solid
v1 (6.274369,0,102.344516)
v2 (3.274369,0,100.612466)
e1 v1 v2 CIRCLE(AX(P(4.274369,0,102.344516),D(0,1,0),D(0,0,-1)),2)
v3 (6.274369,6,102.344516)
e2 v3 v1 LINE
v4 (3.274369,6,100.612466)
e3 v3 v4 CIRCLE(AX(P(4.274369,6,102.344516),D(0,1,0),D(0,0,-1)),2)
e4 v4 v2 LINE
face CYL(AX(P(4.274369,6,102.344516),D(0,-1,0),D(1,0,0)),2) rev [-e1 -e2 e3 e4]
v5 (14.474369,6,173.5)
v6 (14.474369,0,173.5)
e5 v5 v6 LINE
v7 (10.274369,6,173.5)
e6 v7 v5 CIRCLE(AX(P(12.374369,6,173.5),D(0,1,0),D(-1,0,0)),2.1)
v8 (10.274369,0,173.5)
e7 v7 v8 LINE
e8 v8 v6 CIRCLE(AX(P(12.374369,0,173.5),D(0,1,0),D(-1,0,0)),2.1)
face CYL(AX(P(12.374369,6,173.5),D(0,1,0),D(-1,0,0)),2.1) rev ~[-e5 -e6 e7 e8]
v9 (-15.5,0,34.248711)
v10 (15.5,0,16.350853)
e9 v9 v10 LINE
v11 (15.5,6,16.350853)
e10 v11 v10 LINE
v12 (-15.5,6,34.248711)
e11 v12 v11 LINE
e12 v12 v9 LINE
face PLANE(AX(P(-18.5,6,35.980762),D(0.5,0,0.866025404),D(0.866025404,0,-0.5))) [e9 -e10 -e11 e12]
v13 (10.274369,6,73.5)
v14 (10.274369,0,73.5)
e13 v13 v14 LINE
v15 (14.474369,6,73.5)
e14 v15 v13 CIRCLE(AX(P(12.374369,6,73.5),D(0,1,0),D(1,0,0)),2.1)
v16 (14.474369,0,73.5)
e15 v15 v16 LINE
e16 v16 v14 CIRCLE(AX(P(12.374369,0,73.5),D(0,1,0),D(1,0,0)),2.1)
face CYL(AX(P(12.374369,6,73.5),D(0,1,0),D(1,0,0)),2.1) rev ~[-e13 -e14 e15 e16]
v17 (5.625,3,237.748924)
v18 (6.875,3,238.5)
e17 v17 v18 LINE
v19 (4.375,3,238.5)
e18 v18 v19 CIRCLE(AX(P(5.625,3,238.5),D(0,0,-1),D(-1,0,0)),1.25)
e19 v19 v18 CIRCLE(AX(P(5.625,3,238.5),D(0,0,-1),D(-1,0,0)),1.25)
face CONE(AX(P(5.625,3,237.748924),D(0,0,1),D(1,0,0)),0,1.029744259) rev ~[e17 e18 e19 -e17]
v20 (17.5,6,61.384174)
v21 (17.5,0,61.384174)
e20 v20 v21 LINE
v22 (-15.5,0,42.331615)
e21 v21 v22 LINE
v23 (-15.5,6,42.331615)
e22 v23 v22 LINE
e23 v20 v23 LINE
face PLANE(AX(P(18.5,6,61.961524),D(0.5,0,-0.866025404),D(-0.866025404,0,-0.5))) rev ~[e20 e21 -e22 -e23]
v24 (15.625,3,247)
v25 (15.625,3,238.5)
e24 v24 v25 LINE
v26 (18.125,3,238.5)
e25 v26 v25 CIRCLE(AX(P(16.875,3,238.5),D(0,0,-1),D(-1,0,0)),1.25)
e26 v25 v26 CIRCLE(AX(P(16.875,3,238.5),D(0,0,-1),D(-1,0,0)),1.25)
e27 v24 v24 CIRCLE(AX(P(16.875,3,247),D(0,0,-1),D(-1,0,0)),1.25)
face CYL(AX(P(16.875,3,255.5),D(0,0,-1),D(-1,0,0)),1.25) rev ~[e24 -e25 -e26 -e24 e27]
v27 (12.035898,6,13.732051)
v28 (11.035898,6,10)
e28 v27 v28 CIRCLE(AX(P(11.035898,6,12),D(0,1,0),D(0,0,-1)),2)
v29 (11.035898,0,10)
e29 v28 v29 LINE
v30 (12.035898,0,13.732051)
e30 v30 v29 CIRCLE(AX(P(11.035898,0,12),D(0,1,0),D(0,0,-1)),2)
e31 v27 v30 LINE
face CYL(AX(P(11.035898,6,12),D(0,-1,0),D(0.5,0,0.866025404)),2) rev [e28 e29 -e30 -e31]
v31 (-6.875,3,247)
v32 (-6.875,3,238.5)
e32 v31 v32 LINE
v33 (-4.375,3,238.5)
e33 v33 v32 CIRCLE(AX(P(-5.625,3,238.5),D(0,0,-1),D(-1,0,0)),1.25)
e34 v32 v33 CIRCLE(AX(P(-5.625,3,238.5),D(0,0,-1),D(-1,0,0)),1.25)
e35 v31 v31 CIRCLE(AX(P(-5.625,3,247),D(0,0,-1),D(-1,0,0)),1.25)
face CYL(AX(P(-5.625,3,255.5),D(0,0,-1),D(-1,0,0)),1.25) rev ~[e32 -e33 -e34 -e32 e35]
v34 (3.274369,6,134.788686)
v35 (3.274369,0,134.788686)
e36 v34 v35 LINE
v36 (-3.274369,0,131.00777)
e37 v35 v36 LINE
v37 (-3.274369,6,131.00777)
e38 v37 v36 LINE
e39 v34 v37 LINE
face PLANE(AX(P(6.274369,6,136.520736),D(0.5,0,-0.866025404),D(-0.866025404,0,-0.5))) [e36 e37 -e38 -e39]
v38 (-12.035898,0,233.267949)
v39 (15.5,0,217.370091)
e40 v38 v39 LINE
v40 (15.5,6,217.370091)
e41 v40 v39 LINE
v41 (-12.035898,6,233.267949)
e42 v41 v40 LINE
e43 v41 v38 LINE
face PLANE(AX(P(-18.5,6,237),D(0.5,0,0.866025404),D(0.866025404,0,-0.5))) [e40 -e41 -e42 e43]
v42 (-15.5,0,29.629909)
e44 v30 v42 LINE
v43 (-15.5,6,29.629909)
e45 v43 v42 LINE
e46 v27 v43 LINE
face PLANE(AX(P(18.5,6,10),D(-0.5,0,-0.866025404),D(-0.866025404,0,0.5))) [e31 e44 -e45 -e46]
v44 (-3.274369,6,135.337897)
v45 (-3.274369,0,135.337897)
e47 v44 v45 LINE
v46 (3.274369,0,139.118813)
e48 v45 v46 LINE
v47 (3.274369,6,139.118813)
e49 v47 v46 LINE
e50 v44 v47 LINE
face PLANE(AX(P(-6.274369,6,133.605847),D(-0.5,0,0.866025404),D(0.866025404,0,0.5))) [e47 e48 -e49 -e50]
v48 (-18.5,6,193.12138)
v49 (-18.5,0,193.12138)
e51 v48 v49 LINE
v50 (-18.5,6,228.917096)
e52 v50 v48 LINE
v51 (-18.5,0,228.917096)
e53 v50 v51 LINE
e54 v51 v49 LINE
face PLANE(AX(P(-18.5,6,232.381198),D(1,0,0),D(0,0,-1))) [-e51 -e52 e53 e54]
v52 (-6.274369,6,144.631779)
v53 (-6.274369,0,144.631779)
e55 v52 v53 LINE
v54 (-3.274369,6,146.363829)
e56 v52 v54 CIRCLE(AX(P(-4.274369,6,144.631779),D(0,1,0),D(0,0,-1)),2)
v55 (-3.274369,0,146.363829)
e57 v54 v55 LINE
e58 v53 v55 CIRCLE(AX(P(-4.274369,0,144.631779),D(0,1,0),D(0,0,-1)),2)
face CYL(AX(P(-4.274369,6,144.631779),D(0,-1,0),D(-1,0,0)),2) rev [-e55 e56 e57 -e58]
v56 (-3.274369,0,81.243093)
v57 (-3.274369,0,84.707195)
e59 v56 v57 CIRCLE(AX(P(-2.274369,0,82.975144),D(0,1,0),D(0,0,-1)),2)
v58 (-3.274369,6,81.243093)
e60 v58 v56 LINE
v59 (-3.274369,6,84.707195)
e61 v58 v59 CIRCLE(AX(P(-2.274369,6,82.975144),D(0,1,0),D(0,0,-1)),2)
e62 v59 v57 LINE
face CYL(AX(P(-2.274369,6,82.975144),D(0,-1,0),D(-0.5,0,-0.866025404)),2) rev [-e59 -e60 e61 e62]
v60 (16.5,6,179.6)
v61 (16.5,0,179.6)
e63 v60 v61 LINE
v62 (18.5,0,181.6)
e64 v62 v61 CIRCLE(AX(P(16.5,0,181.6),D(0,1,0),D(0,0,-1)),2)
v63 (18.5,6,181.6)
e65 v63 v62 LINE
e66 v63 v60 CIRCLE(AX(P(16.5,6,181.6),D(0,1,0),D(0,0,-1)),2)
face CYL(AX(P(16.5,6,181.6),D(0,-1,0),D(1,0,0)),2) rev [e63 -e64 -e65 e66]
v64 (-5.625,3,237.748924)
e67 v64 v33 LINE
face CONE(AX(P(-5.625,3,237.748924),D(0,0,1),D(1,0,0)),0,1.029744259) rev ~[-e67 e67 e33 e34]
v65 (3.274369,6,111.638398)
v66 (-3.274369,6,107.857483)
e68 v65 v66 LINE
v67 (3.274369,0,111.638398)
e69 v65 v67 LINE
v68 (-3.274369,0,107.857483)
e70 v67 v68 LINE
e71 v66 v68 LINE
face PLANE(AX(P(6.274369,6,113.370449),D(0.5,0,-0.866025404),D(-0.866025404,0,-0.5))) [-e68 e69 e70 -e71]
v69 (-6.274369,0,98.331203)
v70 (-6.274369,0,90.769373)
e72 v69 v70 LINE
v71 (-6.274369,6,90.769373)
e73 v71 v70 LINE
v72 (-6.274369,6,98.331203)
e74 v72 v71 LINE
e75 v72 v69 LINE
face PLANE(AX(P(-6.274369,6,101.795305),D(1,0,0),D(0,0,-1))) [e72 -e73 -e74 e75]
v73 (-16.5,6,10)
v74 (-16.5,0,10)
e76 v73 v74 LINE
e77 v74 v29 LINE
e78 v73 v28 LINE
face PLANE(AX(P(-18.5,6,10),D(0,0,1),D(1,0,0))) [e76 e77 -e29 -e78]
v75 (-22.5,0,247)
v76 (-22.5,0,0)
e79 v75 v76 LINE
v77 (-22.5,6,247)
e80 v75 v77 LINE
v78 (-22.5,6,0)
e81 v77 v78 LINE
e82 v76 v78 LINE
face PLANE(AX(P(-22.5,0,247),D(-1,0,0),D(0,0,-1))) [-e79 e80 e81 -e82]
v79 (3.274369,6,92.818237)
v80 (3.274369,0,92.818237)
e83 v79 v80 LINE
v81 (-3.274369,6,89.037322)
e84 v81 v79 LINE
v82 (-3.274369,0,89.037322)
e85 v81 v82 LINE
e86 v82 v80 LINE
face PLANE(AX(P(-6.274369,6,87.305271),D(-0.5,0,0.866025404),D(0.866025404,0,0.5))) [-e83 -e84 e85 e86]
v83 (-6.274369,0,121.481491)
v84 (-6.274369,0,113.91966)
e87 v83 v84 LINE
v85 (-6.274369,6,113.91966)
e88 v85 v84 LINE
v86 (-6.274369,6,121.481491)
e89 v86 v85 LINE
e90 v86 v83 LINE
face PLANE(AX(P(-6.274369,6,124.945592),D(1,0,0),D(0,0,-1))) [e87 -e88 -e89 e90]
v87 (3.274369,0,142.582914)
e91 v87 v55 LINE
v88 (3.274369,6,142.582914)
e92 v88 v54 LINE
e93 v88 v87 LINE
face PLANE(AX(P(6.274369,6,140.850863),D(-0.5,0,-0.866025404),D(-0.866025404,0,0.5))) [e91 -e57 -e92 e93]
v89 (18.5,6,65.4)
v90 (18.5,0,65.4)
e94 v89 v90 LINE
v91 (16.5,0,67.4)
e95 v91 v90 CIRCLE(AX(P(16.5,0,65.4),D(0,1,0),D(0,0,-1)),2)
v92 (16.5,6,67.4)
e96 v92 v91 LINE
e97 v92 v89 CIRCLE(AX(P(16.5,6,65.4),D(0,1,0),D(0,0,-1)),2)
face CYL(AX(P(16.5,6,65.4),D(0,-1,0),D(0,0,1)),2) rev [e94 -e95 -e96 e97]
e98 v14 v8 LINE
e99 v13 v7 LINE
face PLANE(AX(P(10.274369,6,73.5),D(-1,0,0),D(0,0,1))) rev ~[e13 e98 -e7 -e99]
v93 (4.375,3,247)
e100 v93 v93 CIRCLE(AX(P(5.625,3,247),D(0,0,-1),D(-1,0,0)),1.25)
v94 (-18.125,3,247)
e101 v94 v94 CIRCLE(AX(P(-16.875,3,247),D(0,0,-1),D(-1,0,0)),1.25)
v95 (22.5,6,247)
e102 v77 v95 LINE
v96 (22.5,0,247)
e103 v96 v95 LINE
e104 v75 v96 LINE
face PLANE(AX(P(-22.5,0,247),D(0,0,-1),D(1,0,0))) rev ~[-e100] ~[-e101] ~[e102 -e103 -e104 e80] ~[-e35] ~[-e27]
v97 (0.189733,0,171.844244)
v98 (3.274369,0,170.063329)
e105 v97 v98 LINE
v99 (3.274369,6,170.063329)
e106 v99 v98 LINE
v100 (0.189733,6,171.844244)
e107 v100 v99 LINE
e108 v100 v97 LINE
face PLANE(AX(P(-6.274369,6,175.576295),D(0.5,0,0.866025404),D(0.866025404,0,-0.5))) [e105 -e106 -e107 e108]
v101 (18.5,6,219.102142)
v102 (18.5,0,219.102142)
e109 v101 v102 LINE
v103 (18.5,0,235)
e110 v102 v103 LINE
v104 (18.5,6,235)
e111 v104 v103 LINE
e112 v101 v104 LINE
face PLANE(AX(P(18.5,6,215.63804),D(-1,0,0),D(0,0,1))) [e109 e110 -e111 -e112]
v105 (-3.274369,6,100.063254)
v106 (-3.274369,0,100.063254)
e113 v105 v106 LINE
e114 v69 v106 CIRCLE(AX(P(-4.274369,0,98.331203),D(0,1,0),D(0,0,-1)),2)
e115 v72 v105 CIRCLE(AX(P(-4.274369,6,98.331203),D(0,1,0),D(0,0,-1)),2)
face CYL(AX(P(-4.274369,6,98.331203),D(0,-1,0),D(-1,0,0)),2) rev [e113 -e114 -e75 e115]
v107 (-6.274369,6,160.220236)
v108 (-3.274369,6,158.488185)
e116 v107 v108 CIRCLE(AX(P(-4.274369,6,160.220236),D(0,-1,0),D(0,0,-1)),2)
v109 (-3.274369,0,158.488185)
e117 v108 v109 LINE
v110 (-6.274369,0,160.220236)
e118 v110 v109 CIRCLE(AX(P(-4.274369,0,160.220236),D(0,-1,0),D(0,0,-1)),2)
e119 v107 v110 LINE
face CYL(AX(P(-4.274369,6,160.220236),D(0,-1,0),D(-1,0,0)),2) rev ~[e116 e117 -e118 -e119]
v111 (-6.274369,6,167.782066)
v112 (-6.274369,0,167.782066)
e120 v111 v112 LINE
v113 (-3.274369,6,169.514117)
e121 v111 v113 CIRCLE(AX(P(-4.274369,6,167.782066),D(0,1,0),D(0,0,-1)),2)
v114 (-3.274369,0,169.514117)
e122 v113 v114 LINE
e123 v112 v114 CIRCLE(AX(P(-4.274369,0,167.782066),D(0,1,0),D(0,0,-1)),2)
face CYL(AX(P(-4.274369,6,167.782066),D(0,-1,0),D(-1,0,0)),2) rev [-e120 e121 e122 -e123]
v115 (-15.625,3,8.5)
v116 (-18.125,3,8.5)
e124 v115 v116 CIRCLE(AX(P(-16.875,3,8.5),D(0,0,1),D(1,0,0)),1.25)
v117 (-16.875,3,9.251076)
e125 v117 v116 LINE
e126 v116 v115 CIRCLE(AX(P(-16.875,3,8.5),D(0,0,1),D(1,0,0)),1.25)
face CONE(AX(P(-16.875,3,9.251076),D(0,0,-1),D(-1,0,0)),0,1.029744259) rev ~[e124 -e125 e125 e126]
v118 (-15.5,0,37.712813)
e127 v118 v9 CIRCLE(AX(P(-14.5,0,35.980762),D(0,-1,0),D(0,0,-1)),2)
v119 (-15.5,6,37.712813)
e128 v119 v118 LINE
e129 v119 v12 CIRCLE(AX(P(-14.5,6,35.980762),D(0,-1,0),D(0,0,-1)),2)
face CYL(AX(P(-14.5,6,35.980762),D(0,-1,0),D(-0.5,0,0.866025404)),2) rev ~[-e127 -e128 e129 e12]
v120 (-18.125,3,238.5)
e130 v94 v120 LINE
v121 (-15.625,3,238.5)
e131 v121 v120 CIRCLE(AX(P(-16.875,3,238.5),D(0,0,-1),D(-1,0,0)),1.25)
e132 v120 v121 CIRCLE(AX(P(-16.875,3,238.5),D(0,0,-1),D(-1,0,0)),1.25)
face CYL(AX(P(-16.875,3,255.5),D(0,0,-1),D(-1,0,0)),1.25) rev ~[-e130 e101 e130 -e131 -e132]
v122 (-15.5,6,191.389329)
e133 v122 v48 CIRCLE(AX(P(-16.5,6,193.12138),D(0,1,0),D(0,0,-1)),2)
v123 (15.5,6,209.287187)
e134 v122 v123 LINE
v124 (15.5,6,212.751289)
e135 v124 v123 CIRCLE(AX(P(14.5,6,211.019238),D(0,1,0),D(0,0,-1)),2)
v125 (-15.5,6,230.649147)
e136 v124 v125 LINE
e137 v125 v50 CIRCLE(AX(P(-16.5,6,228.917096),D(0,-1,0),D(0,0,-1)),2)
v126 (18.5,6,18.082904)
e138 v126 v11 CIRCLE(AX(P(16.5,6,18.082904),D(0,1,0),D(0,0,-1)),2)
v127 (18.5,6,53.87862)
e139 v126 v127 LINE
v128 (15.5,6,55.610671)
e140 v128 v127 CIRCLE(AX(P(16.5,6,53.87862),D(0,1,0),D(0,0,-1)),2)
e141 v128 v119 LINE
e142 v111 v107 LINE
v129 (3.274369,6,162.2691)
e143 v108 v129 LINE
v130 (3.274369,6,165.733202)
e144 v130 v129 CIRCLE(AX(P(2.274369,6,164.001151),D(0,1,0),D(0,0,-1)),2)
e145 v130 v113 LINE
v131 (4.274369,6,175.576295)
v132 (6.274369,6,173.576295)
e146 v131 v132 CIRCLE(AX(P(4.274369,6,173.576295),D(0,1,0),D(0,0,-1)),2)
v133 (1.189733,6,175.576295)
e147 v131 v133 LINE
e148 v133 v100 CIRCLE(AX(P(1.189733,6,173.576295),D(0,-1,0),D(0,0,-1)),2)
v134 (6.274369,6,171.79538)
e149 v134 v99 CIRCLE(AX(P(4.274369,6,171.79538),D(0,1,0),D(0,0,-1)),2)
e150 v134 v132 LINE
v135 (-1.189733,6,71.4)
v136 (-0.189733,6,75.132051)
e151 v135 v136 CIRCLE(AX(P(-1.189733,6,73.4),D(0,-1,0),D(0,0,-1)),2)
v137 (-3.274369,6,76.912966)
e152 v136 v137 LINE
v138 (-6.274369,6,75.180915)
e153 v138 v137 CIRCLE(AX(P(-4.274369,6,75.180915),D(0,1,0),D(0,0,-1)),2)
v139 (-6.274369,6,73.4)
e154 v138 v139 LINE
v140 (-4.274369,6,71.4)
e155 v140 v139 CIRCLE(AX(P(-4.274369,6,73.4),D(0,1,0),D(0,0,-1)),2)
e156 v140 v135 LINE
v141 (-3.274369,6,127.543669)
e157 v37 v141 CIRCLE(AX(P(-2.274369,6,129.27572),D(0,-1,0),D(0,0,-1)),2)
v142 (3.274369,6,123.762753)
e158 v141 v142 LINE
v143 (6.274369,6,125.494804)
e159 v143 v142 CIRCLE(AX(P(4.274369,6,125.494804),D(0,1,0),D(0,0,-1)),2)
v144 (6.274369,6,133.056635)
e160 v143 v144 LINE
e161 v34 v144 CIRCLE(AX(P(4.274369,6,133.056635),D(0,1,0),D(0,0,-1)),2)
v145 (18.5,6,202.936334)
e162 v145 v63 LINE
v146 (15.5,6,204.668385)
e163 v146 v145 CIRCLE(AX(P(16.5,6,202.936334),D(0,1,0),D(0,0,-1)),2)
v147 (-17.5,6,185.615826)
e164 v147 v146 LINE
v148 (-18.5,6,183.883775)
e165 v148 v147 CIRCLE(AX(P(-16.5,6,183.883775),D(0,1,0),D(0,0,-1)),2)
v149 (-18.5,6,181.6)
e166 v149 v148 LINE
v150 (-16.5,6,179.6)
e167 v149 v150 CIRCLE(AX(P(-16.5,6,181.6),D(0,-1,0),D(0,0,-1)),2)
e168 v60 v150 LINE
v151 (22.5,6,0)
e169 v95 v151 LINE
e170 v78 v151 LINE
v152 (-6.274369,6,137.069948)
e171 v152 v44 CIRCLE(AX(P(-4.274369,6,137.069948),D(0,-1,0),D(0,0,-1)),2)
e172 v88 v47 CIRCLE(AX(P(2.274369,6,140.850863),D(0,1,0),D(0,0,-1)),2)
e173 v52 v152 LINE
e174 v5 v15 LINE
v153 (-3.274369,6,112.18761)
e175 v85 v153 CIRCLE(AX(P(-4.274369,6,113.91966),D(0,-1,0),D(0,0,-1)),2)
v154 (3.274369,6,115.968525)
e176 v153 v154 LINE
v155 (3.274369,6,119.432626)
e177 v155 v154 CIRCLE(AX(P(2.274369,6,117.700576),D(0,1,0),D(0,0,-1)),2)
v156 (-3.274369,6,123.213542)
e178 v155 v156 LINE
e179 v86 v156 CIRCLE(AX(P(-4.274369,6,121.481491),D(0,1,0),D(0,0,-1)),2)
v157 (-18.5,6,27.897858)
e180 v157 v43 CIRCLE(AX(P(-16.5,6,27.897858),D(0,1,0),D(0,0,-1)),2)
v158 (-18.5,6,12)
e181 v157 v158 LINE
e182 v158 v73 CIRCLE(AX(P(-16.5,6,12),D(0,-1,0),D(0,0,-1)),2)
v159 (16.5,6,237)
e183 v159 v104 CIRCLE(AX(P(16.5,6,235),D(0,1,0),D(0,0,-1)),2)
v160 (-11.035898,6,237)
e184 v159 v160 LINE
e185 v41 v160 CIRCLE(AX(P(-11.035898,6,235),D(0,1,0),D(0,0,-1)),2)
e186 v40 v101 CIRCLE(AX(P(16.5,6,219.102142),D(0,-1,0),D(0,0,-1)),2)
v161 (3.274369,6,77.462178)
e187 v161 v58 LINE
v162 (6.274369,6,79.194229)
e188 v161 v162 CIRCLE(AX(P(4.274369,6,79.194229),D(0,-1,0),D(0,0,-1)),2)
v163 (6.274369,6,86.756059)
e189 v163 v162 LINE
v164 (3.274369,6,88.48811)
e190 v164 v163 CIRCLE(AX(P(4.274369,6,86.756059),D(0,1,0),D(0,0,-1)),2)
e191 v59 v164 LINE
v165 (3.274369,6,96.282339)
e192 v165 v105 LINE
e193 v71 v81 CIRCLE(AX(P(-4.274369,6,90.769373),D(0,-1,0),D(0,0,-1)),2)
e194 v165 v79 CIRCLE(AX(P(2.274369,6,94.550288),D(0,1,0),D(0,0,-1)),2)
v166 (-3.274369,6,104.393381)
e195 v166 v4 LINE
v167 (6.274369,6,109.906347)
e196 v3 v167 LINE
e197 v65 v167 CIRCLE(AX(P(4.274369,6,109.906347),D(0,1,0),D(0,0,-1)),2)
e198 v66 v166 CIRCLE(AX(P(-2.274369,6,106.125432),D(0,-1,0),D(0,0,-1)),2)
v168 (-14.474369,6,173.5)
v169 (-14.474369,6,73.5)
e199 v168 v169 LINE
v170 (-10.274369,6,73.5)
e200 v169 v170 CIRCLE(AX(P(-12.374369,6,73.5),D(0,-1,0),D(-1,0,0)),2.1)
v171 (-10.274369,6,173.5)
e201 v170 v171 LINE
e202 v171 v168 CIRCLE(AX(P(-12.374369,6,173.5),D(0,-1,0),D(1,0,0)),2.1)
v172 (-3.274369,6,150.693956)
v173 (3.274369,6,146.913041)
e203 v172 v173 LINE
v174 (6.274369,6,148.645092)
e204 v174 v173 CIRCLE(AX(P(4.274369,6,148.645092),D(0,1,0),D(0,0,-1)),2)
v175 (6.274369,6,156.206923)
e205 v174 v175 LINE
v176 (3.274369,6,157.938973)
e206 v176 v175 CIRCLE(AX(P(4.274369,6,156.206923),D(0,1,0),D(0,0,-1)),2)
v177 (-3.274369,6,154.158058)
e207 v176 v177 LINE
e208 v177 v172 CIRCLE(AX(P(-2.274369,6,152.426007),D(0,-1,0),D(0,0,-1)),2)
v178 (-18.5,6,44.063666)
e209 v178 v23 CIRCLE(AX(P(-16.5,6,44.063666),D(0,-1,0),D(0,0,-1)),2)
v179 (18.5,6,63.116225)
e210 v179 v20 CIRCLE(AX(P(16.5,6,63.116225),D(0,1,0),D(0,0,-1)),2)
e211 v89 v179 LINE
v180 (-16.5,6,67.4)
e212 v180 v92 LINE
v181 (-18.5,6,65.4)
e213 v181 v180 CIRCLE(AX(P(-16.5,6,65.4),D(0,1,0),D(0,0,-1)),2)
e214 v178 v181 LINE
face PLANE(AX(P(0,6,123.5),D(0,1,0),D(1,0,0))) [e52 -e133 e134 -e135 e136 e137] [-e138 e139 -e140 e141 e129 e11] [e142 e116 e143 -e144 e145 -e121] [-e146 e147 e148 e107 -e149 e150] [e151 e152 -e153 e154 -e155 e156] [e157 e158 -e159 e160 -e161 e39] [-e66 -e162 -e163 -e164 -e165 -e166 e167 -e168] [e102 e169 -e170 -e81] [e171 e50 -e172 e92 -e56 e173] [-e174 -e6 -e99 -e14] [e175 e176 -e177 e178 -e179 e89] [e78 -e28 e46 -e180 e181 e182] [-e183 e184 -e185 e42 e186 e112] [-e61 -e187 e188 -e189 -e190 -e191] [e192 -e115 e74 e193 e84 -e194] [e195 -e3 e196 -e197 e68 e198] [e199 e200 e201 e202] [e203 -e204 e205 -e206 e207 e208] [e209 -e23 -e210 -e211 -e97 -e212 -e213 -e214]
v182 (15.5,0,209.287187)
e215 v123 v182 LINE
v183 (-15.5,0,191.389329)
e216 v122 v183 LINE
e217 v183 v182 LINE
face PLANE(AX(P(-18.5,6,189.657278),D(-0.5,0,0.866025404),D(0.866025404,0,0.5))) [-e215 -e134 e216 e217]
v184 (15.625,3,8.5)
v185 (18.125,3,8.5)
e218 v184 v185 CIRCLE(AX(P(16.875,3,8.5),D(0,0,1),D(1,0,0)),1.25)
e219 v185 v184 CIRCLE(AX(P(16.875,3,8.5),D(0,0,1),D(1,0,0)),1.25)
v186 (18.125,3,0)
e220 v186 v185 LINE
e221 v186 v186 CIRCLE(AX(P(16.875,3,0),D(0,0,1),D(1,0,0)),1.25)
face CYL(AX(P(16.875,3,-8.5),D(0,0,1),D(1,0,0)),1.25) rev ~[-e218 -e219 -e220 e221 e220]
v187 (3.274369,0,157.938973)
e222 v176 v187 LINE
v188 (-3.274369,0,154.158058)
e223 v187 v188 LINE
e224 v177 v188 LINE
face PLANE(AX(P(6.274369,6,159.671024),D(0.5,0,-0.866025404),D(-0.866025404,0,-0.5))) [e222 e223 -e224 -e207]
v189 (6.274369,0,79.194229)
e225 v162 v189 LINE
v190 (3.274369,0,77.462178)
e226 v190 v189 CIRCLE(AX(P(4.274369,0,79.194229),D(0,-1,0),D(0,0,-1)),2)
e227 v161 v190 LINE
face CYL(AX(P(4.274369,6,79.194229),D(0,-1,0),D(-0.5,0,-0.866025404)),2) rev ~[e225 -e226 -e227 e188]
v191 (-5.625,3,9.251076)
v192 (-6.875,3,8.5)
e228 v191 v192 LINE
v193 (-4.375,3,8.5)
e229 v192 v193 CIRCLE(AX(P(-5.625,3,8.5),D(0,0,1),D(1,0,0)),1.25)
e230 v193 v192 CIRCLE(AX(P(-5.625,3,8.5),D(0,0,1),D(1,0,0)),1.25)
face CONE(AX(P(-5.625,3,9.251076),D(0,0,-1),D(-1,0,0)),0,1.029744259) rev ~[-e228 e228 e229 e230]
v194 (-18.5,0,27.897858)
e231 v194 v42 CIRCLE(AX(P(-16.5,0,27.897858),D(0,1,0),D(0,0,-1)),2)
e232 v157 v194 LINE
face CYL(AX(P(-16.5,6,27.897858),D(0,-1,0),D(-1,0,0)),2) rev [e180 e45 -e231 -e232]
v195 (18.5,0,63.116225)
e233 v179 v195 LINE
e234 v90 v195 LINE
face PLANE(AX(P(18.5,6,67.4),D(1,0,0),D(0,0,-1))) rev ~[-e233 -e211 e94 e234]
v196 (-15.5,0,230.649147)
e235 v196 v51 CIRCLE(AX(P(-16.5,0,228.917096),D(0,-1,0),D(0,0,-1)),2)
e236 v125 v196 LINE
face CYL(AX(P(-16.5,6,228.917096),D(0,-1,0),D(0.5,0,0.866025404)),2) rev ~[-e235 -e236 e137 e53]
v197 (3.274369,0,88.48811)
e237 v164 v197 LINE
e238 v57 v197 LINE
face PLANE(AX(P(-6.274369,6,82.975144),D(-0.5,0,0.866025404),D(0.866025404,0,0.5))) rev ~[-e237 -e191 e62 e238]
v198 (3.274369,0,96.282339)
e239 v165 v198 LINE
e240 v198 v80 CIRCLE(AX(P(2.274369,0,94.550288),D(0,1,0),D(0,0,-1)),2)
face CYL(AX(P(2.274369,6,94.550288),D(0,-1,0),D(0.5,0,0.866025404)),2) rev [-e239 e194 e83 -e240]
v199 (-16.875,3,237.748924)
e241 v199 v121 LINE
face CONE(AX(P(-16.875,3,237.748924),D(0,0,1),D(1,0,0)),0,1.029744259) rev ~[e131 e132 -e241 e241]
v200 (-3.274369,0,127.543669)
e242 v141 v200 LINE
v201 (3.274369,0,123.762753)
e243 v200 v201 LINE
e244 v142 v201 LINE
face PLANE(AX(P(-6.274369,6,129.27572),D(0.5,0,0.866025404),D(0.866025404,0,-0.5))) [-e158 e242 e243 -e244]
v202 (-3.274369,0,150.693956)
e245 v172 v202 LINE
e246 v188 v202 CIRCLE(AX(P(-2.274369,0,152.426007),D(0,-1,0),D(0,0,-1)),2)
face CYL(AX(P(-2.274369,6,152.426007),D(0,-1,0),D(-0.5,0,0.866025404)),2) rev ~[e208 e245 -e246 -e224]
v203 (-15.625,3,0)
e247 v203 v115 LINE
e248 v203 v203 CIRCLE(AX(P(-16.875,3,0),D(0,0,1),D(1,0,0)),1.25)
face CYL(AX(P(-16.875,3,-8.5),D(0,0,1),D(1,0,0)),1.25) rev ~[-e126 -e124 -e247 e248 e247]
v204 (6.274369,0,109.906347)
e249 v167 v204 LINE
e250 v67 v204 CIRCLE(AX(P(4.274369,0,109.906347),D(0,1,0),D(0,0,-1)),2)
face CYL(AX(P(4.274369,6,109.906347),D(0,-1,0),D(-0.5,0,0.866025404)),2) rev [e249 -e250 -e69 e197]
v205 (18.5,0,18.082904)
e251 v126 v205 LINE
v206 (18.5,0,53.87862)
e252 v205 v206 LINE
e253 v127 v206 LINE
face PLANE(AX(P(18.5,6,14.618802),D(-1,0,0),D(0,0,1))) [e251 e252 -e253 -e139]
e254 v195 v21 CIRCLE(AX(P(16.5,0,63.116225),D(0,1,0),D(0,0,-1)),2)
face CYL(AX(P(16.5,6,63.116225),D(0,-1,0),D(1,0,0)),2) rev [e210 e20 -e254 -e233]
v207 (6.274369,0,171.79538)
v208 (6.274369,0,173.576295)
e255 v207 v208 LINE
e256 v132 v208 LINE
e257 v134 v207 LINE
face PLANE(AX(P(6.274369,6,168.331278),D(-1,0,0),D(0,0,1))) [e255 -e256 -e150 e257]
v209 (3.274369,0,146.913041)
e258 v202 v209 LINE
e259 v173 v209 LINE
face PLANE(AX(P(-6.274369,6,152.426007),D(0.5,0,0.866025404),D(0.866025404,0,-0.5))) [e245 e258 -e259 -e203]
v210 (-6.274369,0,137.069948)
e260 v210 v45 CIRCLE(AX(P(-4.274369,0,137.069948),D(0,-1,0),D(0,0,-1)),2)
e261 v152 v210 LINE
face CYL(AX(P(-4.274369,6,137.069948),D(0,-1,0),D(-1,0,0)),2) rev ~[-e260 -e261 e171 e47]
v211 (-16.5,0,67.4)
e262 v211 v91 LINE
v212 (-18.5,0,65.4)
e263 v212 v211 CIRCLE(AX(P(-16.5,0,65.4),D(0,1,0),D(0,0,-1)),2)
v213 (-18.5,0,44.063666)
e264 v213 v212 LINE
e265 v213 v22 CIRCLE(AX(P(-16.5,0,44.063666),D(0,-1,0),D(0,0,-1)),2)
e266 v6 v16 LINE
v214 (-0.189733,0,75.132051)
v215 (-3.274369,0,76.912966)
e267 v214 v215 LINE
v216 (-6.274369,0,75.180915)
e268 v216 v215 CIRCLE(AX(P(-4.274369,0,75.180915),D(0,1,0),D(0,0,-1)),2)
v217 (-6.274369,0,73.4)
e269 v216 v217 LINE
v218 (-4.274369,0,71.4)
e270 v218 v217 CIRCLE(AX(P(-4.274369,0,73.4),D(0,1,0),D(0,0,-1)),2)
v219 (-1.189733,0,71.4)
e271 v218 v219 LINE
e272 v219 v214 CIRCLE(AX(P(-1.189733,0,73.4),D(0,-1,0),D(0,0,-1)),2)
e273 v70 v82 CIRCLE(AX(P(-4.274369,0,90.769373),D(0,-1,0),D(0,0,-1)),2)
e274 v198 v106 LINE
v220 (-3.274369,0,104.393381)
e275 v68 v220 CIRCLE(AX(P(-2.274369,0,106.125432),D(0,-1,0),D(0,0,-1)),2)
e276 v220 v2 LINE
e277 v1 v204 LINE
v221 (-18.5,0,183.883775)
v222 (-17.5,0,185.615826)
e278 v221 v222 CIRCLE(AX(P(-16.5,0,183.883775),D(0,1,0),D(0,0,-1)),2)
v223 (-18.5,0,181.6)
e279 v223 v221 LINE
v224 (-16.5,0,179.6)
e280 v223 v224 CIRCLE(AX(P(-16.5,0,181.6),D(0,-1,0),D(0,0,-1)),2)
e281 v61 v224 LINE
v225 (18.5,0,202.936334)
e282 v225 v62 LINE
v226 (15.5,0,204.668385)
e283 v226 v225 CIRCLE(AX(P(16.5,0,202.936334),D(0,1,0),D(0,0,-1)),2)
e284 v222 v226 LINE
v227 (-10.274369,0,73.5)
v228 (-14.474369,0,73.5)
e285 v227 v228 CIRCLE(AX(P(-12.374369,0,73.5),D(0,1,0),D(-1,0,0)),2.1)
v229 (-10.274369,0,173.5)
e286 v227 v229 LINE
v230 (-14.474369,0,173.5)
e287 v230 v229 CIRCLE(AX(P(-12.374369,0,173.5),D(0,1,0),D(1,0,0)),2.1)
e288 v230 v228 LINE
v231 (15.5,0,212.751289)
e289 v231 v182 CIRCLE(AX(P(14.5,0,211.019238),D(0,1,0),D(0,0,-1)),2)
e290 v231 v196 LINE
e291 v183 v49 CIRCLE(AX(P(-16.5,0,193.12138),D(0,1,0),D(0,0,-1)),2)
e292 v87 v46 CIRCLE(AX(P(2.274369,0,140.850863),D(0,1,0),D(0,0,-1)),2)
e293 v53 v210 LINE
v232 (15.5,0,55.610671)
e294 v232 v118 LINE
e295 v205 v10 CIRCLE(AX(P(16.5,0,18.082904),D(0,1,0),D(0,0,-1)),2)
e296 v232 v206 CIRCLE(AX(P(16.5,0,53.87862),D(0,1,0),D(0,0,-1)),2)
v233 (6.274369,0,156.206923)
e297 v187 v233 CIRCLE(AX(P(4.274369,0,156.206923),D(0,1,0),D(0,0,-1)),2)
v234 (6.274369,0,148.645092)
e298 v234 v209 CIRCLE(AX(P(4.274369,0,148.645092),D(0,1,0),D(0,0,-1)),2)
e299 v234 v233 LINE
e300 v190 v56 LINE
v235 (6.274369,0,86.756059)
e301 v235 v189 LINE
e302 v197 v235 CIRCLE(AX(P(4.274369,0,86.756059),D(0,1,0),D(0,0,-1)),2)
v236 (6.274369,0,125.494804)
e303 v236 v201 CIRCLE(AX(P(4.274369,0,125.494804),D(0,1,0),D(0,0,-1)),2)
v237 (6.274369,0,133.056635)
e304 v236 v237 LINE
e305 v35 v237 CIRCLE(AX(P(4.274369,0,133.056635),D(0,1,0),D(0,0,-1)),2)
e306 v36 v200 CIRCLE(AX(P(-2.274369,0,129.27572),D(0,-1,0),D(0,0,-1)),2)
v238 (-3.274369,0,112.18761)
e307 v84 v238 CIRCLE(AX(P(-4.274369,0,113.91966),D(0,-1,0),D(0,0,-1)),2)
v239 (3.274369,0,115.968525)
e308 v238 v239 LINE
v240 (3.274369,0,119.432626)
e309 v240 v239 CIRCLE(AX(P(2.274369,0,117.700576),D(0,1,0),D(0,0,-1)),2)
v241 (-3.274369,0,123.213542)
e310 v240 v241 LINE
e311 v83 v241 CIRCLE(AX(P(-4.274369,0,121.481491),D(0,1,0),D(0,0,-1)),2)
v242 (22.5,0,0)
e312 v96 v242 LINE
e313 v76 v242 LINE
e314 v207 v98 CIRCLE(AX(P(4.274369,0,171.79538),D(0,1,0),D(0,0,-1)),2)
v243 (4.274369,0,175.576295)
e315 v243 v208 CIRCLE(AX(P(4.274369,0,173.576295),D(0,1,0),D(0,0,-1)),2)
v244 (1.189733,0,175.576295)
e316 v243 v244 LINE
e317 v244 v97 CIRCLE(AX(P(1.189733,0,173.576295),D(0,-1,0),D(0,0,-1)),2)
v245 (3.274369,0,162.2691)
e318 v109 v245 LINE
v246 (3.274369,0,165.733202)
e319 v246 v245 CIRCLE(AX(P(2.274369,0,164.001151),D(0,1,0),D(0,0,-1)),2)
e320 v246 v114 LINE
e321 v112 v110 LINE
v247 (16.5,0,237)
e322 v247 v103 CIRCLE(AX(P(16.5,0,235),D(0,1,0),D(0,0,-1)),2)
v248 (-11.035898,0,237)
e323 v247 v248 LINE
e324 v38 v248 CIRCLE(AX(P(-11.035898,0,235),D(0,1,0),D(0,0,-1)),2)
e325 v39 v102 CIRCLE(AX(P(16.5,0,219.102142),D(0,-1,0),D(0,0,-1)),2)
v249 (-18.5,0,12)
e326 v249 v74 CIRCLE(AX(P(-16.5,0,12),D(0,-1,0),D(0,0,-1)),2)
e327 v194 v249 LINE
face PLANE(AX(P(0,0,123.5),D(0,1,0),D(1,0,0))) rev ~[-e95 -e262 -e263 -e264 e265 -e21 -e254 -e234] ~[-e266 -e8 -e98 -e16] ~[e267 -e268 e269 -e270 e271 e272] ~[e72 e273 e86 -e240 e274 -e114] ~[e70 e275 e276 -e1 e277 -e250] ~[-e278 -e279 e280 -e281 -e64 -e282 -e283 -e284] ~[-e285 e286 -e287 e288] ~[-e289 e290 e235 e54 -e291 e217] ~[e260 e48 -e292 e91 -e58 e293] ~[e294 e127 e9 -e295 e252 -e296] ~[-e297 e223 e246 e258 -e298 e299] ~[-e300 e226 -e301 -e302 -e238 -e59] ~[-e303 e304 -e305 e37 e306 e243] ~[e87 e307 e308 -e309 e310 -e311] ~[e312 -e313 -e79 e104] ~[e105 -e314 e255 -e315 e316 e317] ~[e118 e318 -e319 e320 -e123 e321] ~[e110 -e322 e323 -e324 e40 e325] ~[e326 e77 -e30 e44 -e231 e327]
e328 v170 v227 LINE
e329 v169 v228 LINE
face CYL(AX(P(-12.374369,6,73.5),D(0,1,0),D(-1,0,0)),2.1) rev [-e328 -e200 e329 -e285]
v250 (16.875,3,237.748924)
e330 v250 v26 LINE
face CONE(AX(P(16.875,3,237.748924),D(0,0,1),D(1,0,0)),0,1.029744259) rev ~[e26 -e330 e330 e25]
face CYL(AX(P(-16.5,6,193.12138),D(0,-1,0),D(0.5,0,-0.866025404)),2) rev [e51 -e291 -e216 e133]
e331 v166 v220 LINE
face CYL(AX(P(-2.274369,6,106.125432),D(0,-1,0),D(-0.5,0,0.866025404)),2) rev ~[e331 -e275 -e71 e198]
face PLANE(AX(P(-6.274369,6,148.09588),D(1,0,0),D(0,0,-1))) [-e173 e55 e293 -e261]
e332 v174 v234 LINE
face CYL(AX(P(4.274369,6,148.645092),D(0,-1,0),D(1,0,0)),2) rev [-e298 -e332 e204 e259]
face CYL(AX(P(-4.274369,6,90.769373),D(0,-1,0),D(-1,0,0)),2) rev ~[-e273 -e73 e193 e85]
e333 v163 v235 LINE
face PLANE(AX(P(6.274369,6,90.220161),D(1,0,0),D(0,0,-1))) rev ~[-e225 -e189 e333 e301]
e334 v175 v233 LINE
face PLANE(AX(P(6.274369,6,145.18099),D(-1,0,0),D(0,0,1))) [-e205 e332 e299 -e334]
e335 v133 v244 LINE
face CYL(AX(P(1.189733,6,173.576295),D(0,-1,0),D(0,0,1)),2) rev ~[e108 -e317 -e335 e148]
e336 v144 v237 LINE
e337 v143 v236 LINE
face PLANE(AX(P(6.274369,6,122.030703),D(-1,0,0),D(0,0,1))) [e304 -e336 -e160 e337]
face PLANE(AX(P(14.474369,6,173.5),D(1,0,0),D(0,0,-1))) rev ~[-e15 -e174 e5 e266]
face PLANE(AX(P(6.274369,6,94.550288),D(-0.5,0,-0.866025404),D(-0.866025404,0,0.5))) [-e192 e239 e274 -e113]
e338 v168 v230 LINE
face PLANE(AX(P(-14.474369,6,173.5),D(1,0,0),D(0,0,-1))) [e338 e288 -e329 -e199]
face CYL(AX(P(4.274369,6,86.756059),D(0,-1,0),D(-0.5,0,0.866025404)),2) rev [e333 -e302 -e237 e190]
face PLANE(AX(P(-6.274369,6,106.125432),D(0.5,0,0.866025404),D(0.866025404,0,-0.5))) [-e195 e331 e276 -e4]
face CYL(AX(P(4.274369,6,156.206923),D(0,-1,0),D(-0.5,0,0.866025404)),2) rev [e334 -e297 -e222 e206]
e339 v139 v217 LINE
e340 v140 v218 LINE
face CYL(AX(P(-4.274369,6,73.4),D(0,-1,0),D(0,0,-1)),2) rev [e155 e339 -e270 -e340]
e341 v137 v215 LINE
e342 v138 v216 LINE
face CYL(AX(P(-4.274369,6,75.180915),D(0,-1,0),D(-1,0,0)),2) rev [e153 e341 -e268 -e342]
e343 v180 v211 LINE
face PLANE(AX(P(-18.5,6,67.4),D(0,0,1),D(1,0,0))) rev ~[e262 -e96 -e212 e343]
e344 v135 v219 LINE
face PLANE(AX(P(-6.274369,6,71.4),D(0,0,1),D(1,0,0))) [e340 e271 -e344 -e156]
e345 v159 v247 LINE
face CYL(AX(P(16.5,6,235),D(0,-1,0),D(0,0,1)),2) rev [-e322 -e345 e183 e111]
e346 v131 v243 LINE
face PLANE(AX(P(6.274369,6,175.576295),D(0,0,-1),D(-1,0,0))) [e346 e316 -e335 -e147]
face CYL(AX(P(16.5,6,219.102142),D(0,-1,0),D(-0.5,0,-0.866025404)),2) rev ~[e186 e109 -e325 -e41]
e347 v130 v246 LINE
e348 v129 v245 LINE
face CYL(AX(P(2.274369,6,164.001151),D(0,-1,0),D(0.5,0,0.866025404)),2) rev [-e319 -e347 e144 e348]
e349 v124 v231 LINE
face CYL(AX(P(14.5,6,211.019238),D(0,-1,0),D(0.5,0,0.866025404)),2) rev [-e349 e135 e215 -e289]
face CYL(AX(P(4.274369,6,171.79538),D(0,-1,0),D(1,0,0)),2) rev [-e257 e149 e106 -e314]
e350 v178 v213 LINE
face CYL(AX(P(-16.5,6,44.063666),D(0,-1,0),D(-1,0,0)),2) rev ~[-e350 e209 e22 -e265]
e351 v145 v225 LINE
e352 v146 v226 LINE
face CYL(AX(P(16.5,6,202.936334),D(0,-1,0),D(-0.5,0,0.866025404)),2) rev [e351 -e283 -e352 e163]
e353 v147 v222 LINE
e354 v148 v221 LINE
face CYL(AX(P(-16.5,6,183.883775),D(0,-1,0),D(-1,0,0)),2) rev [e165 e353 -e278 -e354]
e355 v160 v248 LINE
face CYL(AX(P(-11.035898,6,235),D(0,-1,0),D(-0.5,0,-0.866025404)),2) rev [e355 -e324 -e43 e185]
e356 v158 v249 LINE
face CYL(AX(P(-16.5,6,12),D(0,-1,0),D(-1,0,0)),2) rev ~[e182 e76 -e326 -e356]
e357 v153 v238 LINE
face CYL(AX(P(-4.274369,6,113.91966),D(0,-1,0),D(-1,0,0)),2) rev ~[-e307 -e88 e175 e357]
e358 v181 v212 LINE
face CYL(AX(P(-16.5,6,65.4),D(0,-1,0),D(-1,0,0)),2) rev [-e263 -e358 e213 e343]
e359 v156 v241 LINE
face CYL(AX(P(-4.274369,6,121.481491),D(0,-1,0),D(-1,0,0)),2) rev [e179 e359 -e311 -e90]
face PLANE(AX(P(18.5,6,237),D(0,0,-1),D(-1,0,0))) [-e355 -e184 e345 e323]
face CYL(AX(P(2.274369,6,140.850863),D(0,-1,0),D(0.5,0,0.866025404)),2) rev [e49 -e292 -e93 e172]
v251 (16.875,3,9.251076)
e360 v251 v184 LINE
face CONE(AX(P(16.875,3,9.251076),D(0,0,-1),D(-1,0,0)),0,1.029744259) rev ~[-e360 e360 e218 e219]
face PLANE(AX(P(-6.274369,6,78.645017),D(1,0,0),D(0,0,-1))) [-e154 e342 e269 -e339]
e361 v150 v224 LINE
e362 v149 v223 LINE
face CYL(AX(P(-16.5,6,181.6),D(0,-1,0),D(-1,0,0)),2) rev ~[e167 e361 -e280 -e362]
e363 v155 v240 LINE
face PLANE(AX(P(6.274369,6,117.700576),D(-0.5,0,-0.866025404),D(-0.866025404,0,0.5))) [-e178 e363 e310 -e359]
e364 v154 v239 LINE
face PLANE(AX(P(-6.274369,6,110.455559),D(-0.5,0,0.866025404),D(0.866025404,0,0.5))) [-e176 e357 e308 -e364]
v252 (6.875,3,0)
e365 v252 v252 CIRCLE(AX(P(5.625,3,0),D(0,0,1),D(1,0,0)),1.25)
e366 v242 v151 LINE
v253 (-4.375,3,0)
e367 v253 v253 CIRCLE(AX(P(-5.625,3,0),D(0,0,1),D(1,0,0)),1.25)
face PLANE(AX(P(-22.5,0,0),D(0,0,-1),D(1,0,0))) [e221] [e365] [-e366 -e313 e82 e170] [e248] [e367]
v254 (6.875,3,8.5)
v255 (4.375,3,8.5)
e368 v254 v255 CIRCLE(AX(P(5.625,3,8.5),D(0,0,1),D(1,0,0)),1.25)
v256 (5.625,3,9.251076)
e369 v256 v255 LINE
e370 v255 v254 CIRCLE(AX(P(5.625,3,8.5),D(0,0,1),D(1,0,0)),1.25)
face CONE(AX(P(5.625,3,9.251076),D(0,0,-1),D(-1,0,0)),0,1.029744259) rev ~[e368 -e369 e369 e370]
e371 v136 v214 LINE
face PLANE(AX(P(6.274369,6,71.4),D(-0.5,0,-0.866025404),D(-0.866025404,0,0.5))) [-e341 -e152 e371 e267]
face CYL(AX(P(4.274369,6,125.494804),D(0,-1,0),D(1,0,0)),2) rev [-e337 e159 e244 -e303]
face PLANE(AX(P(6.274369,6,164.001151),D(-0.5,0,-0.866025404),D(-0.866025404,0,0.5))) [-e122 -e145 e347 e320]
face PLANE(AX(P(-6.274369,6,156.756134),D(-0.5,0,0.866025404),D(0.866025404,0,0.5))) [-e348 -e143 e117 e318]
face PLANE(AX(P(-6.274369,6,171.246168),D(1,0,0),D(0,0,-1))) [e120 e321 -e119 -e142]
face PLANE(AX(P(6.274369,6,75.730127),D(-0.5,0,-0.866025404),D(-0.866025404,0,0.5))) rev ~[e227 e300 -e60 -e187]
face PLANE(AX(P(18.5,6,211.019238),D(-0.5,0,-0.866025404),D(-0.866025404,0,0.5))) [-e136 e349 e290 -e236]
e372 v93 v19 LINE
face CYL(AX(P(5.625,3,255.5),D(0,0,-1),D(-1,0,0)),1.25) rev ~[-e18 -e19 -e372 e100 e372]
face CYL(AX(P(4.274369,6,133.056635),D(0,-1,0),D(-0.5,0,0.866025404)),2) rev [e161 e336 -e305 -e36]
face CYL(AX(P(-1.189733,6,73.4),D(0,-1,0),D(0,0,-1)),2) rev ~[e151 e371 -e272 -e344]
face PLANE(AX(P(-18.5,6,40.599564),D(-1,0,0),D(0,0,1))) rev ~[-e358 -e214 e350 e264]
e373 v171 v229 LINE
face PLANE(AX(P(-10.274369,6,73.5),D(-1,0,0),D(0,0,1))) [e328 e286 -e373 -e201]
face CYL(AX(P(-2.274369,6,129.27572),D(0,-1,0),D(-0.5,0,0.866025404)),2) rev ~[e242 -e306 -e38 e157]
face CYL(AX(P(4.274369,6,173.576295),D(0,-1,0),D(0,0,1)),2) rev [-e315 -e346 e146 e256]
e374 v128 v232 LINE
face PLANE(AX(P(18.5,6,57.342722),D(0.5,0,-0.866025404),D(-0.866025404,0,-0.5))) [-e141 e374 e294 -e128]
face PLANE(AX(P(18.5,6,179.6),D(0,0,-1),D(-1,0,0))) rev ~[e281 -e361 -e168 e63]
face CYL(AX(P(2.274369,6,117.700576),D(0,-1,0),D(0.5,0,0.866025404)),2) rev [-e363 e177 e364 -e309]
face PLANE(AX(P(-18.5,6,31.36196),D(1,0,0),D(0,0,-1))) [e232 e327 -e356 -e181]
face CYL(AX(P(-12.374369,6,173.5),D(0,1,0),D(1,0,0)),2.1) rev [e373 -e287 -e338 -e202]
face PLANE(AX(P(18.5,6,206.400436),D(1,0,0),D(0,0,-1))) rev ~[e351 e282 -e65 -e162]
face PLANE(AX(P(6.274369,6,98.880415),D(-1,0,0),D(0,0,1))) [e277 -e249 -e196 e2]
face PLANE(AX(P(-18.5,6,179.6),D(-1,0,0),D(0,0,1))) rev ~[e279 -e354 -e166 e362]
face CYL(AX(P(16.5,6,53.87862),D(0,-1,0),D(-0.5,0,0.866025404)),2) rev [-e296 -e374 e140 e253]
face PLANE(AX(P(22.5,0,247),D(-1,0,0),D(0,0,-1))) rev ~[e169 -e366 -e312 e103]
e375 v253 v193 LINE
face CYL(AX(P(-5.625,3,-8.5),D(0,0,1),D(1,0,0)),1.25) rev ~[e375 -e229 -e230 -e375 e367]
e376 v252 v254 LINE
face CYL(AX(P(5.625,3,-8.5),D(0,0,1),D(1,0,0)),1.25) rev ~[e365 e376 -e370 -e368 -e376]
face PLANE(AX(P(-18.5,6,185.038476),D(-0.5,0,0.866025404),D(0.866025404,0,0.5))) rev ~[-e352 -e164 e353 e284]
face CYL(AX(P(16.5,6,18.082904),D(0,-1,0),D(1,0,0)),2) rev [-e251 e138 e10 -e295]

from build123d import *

# Parameters (mm, degrees)
SKETCH_1_W          = 45
SKETCH_1_H          = 247
EXTRUDE_1_DEPTH     = 6
CUT_EXTRUDE_1_DEPTH = 249.095243808
CUT_EXTRUDE_2_DEPTH = 249.095243808
FILLET_1_R          = 2
M3X0_52_D           = 2.5
M3X0_52_DEPTH       = 8.5
M3X0_52_TIP         = 0.751075774
M3X0_51_D           = 2.5
M3X0_51_DEPTH       = 8.5
M3X0_51_TIP         = 0.751075774


with BuildPart() as part:
    # Эскиз1 → Бобышка-Вытянуть1 (new body)
    with BuildSketch(Plane(origin=(0, 0, 0), x_dir=(1, 0, 0), z_dir=(0, 1, 0))):
        with Locations((0, -123.5)):
            Rectangle(SKETCH_1_W, SKETCH_1_H)
    extrude(amount=EXTRUDE_1_DEPTH)

    # Эскиз2 → Вырез-Вытянуть1 (cut, through all)
    with BuildSketch(Plane(origin=(0, 6, 0), x_dir=(1, 0, 0), z_dir=(0, 1, 0))):
        with BuildLine():
            Line((-10.274368671, -73.5), (-10.274368671, -173.5))
            ThreePointArc((-10.274368671, -173.5), (-12.374368671, -175.6), (-14.474368671, -173.5))
            Line((-14.474368671, -173.5), (-14.474368671, -73.5))
            ThreePointArc((-14.474368671, -73.5), (-12.374368671, -71.4), (-10.274368671, -73.5))
        make_face()
        with BuildLine():
            Line((10.274368671, -73.5), (10.274368671, -173.5))
            ThreePointArc((10.274368671, -173.5), (12.374368671, -175.6), (14.474368671, -173.5))
            Line((14.474368671, -173.5), (14.474368671, -73.5))
            ThreePointArc((14.474368671, -73.5), (12.374368671, -71.4), (10.274368671, -73.5))
        make_face()
    extrude(amount=-CUT_EXTRUDE_1_DEPTH, mode=Mode.SUBTRACT)

    # Эскиз14 → Вырез-Вытянуть2 (cut, through all)
    with BuildSketch(Plane(origin=(0, 6, 0), x_dir=(1, 0, 0), z_dir=(0, 1, 0))):
        Polygon((-18.5, -10), (18.5, -10), (-18.5, -31.36195996), align=None)
        Polygon((-18.5, -35.980762114), (18.5, -14.618802154), (18.5, -57.342722074), align=None)
        Polygon((-18.5, -40.599564267), (-18.5, -67.4), (18.5, -67.4), (18.5, -61.961524227), align=None)
        Polygon((6.274368671, -71.4), (-6.274368671, -78.645016882), (-6.274368671, -71.4), align=None)
        Polygon((6.274368671, -75.730127019), (-6.274368671, -82.975143901), (6.274368671, -90.220160783), align=None)
        Polygon((-6.274368671, -87.30527092), (6.274368671, -94.550287802), (-6.274368671, -101.795304684), align=None)
        Polygon((-6.274368671, -106.125431703), (6.274368671, -98.880414821), (6.274368671, -113.370448585), align=None)
        Polygon((-6.274368671, -110.455558722), (6.274368671, -117.700575604), (-6.274368671, -124.945592486), align=None)
        Polygon((-6.274368671, -129.275719505), (6.274368671, -122.030702623), (6.274368671, -136.520736387), align=None)
        Polygon((-6.274368671, -133.605846524), (6.274368671, -140.850863406), (-6.274368671, -148.095880288), align=None)
        Polygon((-6.274368671, -152.426007307), (6.274368671, -145.180990425), (6.274368671, -159.671024189), align=None)
        Polygon((-6.274368671, -156.756134326), (6.274368671, -164.001151208), (-6.274368671, -171.24616809), align=None)
        Polygon((-6.274368671, -175.576295109), (6.274368671, -168.331278227), (6.274368671, -175.576295109), align=None)
        Polygon((-18.5, -179.6), (-18.5, -185.038475773), (18.5, -206.400435733), (18.5, -179.6), align=None)
        Polygon((-18.5, -232.381197846), (-18.5, -189.657277926), (18.5, -211.019237886), align=None)
        Polygon((18.5, -215.63804004), (18.5, -237), (-18.5, -237), align=None)
    extrude(amount=-CUT_EXTRUDE_2_DEPTH, mode=Mode.SUBTRACT)

    # Скругление1
    fillet_1_edges = [part.edges().sort_by_distance(p)[0] for p in [
        (-6.274368671, 3, 101.795304684),
        (-6.274368671, 3, 87.30527092),
        (6.274368671, 3, 94.550287802),
        (6.274368671, 3, 113.370448585),
        (-6.274368671, 3, 106.125431703),
        (6.274368671, 3, 98.880414821),
        (-6.274368671, 3, 124.945592486),
        (-6.274368671, 3, 110.455558722),
        (6.274368671, 3, 117.700575604),
        (6.274368671, 3, 136.520736387),
        (-6.274368671, 3, 129.275719505),
        (6.274368671, 3, 122.030702623),
        (-6.274368671, 3, 148.095880288),
        (-6.274368671, 3, 133.605846524),
        (6.274368671, 3, 140.850863406),
        (6.274368671, 3, 159.671024189),
        (-6.274368671, 3, 152.426007307),
        (6.274368671, 3, 145.180990425),
        (-6.274368671, 3, 171.24616809),
        (-6.274368671, 3, 156.756134326),
        (6.274368671, 3, 164.001151208),
        (6.274368671, 3, 175.576295109),
        (-6.274368671, 3, 175.576295109),
        (6.274368671, 3, 168.331278227),
        (-18.5, 3, 179.6),
        (18.5, 3, 179.6),
        (18.5, 3, 206.400435733),
        (-18.5, 3, 185.038475773),
        (18.5, 3, 211.019237886),
        (-18.5, 3, 232.381197846),
        (-18.5, 3, 189.657277926),
        (-18.5, 3, 237),
        (18.5, 3, 215.63804004),
        (18.5, 3, 237),
        (-18.5, 3, 31.36195996),
        (-18.5, 3, 10),
        (18.5, 3, 10),
        (18.5, 3, 57.342722074),
        (-18.5, 3, 35.980762114),
        (18.5, 3, 14.618802154),
        (-18.5, 3, 40.599564267),
        (18.5, 3, 61.961524227),
        (18.5, 3, 67.4),
        (-18.5, 3, 67.4),
        (-6.274368671, 3, 71.4),
        (6.274368671, 3, 71.4),
        (-6.274368671, 3, 78.645016882),
        (6.274368671, 3, 75.730127019),
        (6.274368671, 3, 90.220160783),
        (-6.274368671, 3, 82.975143901),
    ]]
    fillet(fillet_1_edges, radius=FILLET_1_R)

    # Отверстие обработанное метчиком M3x0.52
    with Locations(Plane(origin=(0, 0, 0), x_dir=(-1, 0, 0), z_dir=(0, 0, -1))):
        with Locations((-16.875, 3), (-5.625, 3), (5.625, 3), (16.875, 3)):
            Hole(M3X0_52_D / 2, depth=M3X0_52_DEPTH)
            with Locations((0, 0, -(M3X0_52_DEPTH + M3X0_52_TIP / 2))):  # 118° drill point
                Cone(0, M3X0_52_D / 2, M3X0_52_TIP, mode=Mode.SUBTRACT)

    # Отверстие обработанное метчиком M3x0.51
    with Locations(Plane.XY.offset(247)):
        with Locations((-16.875, 3), (-5.625, 3), (5.625, 3), (16.875, 3)):
            Hole(M3X0_51_D / 2, depth=M3X0_51_DEPTH)
            with Locations((0, 0, -(M3X0_51_DEPTH + M3X0_51_TIP / 2))):  # 118° drill point
                Cone(0, M3X0_51_D / 2, M3X0_51_TIP, mode=Mode.SUBTRACT)


solid = part.part
